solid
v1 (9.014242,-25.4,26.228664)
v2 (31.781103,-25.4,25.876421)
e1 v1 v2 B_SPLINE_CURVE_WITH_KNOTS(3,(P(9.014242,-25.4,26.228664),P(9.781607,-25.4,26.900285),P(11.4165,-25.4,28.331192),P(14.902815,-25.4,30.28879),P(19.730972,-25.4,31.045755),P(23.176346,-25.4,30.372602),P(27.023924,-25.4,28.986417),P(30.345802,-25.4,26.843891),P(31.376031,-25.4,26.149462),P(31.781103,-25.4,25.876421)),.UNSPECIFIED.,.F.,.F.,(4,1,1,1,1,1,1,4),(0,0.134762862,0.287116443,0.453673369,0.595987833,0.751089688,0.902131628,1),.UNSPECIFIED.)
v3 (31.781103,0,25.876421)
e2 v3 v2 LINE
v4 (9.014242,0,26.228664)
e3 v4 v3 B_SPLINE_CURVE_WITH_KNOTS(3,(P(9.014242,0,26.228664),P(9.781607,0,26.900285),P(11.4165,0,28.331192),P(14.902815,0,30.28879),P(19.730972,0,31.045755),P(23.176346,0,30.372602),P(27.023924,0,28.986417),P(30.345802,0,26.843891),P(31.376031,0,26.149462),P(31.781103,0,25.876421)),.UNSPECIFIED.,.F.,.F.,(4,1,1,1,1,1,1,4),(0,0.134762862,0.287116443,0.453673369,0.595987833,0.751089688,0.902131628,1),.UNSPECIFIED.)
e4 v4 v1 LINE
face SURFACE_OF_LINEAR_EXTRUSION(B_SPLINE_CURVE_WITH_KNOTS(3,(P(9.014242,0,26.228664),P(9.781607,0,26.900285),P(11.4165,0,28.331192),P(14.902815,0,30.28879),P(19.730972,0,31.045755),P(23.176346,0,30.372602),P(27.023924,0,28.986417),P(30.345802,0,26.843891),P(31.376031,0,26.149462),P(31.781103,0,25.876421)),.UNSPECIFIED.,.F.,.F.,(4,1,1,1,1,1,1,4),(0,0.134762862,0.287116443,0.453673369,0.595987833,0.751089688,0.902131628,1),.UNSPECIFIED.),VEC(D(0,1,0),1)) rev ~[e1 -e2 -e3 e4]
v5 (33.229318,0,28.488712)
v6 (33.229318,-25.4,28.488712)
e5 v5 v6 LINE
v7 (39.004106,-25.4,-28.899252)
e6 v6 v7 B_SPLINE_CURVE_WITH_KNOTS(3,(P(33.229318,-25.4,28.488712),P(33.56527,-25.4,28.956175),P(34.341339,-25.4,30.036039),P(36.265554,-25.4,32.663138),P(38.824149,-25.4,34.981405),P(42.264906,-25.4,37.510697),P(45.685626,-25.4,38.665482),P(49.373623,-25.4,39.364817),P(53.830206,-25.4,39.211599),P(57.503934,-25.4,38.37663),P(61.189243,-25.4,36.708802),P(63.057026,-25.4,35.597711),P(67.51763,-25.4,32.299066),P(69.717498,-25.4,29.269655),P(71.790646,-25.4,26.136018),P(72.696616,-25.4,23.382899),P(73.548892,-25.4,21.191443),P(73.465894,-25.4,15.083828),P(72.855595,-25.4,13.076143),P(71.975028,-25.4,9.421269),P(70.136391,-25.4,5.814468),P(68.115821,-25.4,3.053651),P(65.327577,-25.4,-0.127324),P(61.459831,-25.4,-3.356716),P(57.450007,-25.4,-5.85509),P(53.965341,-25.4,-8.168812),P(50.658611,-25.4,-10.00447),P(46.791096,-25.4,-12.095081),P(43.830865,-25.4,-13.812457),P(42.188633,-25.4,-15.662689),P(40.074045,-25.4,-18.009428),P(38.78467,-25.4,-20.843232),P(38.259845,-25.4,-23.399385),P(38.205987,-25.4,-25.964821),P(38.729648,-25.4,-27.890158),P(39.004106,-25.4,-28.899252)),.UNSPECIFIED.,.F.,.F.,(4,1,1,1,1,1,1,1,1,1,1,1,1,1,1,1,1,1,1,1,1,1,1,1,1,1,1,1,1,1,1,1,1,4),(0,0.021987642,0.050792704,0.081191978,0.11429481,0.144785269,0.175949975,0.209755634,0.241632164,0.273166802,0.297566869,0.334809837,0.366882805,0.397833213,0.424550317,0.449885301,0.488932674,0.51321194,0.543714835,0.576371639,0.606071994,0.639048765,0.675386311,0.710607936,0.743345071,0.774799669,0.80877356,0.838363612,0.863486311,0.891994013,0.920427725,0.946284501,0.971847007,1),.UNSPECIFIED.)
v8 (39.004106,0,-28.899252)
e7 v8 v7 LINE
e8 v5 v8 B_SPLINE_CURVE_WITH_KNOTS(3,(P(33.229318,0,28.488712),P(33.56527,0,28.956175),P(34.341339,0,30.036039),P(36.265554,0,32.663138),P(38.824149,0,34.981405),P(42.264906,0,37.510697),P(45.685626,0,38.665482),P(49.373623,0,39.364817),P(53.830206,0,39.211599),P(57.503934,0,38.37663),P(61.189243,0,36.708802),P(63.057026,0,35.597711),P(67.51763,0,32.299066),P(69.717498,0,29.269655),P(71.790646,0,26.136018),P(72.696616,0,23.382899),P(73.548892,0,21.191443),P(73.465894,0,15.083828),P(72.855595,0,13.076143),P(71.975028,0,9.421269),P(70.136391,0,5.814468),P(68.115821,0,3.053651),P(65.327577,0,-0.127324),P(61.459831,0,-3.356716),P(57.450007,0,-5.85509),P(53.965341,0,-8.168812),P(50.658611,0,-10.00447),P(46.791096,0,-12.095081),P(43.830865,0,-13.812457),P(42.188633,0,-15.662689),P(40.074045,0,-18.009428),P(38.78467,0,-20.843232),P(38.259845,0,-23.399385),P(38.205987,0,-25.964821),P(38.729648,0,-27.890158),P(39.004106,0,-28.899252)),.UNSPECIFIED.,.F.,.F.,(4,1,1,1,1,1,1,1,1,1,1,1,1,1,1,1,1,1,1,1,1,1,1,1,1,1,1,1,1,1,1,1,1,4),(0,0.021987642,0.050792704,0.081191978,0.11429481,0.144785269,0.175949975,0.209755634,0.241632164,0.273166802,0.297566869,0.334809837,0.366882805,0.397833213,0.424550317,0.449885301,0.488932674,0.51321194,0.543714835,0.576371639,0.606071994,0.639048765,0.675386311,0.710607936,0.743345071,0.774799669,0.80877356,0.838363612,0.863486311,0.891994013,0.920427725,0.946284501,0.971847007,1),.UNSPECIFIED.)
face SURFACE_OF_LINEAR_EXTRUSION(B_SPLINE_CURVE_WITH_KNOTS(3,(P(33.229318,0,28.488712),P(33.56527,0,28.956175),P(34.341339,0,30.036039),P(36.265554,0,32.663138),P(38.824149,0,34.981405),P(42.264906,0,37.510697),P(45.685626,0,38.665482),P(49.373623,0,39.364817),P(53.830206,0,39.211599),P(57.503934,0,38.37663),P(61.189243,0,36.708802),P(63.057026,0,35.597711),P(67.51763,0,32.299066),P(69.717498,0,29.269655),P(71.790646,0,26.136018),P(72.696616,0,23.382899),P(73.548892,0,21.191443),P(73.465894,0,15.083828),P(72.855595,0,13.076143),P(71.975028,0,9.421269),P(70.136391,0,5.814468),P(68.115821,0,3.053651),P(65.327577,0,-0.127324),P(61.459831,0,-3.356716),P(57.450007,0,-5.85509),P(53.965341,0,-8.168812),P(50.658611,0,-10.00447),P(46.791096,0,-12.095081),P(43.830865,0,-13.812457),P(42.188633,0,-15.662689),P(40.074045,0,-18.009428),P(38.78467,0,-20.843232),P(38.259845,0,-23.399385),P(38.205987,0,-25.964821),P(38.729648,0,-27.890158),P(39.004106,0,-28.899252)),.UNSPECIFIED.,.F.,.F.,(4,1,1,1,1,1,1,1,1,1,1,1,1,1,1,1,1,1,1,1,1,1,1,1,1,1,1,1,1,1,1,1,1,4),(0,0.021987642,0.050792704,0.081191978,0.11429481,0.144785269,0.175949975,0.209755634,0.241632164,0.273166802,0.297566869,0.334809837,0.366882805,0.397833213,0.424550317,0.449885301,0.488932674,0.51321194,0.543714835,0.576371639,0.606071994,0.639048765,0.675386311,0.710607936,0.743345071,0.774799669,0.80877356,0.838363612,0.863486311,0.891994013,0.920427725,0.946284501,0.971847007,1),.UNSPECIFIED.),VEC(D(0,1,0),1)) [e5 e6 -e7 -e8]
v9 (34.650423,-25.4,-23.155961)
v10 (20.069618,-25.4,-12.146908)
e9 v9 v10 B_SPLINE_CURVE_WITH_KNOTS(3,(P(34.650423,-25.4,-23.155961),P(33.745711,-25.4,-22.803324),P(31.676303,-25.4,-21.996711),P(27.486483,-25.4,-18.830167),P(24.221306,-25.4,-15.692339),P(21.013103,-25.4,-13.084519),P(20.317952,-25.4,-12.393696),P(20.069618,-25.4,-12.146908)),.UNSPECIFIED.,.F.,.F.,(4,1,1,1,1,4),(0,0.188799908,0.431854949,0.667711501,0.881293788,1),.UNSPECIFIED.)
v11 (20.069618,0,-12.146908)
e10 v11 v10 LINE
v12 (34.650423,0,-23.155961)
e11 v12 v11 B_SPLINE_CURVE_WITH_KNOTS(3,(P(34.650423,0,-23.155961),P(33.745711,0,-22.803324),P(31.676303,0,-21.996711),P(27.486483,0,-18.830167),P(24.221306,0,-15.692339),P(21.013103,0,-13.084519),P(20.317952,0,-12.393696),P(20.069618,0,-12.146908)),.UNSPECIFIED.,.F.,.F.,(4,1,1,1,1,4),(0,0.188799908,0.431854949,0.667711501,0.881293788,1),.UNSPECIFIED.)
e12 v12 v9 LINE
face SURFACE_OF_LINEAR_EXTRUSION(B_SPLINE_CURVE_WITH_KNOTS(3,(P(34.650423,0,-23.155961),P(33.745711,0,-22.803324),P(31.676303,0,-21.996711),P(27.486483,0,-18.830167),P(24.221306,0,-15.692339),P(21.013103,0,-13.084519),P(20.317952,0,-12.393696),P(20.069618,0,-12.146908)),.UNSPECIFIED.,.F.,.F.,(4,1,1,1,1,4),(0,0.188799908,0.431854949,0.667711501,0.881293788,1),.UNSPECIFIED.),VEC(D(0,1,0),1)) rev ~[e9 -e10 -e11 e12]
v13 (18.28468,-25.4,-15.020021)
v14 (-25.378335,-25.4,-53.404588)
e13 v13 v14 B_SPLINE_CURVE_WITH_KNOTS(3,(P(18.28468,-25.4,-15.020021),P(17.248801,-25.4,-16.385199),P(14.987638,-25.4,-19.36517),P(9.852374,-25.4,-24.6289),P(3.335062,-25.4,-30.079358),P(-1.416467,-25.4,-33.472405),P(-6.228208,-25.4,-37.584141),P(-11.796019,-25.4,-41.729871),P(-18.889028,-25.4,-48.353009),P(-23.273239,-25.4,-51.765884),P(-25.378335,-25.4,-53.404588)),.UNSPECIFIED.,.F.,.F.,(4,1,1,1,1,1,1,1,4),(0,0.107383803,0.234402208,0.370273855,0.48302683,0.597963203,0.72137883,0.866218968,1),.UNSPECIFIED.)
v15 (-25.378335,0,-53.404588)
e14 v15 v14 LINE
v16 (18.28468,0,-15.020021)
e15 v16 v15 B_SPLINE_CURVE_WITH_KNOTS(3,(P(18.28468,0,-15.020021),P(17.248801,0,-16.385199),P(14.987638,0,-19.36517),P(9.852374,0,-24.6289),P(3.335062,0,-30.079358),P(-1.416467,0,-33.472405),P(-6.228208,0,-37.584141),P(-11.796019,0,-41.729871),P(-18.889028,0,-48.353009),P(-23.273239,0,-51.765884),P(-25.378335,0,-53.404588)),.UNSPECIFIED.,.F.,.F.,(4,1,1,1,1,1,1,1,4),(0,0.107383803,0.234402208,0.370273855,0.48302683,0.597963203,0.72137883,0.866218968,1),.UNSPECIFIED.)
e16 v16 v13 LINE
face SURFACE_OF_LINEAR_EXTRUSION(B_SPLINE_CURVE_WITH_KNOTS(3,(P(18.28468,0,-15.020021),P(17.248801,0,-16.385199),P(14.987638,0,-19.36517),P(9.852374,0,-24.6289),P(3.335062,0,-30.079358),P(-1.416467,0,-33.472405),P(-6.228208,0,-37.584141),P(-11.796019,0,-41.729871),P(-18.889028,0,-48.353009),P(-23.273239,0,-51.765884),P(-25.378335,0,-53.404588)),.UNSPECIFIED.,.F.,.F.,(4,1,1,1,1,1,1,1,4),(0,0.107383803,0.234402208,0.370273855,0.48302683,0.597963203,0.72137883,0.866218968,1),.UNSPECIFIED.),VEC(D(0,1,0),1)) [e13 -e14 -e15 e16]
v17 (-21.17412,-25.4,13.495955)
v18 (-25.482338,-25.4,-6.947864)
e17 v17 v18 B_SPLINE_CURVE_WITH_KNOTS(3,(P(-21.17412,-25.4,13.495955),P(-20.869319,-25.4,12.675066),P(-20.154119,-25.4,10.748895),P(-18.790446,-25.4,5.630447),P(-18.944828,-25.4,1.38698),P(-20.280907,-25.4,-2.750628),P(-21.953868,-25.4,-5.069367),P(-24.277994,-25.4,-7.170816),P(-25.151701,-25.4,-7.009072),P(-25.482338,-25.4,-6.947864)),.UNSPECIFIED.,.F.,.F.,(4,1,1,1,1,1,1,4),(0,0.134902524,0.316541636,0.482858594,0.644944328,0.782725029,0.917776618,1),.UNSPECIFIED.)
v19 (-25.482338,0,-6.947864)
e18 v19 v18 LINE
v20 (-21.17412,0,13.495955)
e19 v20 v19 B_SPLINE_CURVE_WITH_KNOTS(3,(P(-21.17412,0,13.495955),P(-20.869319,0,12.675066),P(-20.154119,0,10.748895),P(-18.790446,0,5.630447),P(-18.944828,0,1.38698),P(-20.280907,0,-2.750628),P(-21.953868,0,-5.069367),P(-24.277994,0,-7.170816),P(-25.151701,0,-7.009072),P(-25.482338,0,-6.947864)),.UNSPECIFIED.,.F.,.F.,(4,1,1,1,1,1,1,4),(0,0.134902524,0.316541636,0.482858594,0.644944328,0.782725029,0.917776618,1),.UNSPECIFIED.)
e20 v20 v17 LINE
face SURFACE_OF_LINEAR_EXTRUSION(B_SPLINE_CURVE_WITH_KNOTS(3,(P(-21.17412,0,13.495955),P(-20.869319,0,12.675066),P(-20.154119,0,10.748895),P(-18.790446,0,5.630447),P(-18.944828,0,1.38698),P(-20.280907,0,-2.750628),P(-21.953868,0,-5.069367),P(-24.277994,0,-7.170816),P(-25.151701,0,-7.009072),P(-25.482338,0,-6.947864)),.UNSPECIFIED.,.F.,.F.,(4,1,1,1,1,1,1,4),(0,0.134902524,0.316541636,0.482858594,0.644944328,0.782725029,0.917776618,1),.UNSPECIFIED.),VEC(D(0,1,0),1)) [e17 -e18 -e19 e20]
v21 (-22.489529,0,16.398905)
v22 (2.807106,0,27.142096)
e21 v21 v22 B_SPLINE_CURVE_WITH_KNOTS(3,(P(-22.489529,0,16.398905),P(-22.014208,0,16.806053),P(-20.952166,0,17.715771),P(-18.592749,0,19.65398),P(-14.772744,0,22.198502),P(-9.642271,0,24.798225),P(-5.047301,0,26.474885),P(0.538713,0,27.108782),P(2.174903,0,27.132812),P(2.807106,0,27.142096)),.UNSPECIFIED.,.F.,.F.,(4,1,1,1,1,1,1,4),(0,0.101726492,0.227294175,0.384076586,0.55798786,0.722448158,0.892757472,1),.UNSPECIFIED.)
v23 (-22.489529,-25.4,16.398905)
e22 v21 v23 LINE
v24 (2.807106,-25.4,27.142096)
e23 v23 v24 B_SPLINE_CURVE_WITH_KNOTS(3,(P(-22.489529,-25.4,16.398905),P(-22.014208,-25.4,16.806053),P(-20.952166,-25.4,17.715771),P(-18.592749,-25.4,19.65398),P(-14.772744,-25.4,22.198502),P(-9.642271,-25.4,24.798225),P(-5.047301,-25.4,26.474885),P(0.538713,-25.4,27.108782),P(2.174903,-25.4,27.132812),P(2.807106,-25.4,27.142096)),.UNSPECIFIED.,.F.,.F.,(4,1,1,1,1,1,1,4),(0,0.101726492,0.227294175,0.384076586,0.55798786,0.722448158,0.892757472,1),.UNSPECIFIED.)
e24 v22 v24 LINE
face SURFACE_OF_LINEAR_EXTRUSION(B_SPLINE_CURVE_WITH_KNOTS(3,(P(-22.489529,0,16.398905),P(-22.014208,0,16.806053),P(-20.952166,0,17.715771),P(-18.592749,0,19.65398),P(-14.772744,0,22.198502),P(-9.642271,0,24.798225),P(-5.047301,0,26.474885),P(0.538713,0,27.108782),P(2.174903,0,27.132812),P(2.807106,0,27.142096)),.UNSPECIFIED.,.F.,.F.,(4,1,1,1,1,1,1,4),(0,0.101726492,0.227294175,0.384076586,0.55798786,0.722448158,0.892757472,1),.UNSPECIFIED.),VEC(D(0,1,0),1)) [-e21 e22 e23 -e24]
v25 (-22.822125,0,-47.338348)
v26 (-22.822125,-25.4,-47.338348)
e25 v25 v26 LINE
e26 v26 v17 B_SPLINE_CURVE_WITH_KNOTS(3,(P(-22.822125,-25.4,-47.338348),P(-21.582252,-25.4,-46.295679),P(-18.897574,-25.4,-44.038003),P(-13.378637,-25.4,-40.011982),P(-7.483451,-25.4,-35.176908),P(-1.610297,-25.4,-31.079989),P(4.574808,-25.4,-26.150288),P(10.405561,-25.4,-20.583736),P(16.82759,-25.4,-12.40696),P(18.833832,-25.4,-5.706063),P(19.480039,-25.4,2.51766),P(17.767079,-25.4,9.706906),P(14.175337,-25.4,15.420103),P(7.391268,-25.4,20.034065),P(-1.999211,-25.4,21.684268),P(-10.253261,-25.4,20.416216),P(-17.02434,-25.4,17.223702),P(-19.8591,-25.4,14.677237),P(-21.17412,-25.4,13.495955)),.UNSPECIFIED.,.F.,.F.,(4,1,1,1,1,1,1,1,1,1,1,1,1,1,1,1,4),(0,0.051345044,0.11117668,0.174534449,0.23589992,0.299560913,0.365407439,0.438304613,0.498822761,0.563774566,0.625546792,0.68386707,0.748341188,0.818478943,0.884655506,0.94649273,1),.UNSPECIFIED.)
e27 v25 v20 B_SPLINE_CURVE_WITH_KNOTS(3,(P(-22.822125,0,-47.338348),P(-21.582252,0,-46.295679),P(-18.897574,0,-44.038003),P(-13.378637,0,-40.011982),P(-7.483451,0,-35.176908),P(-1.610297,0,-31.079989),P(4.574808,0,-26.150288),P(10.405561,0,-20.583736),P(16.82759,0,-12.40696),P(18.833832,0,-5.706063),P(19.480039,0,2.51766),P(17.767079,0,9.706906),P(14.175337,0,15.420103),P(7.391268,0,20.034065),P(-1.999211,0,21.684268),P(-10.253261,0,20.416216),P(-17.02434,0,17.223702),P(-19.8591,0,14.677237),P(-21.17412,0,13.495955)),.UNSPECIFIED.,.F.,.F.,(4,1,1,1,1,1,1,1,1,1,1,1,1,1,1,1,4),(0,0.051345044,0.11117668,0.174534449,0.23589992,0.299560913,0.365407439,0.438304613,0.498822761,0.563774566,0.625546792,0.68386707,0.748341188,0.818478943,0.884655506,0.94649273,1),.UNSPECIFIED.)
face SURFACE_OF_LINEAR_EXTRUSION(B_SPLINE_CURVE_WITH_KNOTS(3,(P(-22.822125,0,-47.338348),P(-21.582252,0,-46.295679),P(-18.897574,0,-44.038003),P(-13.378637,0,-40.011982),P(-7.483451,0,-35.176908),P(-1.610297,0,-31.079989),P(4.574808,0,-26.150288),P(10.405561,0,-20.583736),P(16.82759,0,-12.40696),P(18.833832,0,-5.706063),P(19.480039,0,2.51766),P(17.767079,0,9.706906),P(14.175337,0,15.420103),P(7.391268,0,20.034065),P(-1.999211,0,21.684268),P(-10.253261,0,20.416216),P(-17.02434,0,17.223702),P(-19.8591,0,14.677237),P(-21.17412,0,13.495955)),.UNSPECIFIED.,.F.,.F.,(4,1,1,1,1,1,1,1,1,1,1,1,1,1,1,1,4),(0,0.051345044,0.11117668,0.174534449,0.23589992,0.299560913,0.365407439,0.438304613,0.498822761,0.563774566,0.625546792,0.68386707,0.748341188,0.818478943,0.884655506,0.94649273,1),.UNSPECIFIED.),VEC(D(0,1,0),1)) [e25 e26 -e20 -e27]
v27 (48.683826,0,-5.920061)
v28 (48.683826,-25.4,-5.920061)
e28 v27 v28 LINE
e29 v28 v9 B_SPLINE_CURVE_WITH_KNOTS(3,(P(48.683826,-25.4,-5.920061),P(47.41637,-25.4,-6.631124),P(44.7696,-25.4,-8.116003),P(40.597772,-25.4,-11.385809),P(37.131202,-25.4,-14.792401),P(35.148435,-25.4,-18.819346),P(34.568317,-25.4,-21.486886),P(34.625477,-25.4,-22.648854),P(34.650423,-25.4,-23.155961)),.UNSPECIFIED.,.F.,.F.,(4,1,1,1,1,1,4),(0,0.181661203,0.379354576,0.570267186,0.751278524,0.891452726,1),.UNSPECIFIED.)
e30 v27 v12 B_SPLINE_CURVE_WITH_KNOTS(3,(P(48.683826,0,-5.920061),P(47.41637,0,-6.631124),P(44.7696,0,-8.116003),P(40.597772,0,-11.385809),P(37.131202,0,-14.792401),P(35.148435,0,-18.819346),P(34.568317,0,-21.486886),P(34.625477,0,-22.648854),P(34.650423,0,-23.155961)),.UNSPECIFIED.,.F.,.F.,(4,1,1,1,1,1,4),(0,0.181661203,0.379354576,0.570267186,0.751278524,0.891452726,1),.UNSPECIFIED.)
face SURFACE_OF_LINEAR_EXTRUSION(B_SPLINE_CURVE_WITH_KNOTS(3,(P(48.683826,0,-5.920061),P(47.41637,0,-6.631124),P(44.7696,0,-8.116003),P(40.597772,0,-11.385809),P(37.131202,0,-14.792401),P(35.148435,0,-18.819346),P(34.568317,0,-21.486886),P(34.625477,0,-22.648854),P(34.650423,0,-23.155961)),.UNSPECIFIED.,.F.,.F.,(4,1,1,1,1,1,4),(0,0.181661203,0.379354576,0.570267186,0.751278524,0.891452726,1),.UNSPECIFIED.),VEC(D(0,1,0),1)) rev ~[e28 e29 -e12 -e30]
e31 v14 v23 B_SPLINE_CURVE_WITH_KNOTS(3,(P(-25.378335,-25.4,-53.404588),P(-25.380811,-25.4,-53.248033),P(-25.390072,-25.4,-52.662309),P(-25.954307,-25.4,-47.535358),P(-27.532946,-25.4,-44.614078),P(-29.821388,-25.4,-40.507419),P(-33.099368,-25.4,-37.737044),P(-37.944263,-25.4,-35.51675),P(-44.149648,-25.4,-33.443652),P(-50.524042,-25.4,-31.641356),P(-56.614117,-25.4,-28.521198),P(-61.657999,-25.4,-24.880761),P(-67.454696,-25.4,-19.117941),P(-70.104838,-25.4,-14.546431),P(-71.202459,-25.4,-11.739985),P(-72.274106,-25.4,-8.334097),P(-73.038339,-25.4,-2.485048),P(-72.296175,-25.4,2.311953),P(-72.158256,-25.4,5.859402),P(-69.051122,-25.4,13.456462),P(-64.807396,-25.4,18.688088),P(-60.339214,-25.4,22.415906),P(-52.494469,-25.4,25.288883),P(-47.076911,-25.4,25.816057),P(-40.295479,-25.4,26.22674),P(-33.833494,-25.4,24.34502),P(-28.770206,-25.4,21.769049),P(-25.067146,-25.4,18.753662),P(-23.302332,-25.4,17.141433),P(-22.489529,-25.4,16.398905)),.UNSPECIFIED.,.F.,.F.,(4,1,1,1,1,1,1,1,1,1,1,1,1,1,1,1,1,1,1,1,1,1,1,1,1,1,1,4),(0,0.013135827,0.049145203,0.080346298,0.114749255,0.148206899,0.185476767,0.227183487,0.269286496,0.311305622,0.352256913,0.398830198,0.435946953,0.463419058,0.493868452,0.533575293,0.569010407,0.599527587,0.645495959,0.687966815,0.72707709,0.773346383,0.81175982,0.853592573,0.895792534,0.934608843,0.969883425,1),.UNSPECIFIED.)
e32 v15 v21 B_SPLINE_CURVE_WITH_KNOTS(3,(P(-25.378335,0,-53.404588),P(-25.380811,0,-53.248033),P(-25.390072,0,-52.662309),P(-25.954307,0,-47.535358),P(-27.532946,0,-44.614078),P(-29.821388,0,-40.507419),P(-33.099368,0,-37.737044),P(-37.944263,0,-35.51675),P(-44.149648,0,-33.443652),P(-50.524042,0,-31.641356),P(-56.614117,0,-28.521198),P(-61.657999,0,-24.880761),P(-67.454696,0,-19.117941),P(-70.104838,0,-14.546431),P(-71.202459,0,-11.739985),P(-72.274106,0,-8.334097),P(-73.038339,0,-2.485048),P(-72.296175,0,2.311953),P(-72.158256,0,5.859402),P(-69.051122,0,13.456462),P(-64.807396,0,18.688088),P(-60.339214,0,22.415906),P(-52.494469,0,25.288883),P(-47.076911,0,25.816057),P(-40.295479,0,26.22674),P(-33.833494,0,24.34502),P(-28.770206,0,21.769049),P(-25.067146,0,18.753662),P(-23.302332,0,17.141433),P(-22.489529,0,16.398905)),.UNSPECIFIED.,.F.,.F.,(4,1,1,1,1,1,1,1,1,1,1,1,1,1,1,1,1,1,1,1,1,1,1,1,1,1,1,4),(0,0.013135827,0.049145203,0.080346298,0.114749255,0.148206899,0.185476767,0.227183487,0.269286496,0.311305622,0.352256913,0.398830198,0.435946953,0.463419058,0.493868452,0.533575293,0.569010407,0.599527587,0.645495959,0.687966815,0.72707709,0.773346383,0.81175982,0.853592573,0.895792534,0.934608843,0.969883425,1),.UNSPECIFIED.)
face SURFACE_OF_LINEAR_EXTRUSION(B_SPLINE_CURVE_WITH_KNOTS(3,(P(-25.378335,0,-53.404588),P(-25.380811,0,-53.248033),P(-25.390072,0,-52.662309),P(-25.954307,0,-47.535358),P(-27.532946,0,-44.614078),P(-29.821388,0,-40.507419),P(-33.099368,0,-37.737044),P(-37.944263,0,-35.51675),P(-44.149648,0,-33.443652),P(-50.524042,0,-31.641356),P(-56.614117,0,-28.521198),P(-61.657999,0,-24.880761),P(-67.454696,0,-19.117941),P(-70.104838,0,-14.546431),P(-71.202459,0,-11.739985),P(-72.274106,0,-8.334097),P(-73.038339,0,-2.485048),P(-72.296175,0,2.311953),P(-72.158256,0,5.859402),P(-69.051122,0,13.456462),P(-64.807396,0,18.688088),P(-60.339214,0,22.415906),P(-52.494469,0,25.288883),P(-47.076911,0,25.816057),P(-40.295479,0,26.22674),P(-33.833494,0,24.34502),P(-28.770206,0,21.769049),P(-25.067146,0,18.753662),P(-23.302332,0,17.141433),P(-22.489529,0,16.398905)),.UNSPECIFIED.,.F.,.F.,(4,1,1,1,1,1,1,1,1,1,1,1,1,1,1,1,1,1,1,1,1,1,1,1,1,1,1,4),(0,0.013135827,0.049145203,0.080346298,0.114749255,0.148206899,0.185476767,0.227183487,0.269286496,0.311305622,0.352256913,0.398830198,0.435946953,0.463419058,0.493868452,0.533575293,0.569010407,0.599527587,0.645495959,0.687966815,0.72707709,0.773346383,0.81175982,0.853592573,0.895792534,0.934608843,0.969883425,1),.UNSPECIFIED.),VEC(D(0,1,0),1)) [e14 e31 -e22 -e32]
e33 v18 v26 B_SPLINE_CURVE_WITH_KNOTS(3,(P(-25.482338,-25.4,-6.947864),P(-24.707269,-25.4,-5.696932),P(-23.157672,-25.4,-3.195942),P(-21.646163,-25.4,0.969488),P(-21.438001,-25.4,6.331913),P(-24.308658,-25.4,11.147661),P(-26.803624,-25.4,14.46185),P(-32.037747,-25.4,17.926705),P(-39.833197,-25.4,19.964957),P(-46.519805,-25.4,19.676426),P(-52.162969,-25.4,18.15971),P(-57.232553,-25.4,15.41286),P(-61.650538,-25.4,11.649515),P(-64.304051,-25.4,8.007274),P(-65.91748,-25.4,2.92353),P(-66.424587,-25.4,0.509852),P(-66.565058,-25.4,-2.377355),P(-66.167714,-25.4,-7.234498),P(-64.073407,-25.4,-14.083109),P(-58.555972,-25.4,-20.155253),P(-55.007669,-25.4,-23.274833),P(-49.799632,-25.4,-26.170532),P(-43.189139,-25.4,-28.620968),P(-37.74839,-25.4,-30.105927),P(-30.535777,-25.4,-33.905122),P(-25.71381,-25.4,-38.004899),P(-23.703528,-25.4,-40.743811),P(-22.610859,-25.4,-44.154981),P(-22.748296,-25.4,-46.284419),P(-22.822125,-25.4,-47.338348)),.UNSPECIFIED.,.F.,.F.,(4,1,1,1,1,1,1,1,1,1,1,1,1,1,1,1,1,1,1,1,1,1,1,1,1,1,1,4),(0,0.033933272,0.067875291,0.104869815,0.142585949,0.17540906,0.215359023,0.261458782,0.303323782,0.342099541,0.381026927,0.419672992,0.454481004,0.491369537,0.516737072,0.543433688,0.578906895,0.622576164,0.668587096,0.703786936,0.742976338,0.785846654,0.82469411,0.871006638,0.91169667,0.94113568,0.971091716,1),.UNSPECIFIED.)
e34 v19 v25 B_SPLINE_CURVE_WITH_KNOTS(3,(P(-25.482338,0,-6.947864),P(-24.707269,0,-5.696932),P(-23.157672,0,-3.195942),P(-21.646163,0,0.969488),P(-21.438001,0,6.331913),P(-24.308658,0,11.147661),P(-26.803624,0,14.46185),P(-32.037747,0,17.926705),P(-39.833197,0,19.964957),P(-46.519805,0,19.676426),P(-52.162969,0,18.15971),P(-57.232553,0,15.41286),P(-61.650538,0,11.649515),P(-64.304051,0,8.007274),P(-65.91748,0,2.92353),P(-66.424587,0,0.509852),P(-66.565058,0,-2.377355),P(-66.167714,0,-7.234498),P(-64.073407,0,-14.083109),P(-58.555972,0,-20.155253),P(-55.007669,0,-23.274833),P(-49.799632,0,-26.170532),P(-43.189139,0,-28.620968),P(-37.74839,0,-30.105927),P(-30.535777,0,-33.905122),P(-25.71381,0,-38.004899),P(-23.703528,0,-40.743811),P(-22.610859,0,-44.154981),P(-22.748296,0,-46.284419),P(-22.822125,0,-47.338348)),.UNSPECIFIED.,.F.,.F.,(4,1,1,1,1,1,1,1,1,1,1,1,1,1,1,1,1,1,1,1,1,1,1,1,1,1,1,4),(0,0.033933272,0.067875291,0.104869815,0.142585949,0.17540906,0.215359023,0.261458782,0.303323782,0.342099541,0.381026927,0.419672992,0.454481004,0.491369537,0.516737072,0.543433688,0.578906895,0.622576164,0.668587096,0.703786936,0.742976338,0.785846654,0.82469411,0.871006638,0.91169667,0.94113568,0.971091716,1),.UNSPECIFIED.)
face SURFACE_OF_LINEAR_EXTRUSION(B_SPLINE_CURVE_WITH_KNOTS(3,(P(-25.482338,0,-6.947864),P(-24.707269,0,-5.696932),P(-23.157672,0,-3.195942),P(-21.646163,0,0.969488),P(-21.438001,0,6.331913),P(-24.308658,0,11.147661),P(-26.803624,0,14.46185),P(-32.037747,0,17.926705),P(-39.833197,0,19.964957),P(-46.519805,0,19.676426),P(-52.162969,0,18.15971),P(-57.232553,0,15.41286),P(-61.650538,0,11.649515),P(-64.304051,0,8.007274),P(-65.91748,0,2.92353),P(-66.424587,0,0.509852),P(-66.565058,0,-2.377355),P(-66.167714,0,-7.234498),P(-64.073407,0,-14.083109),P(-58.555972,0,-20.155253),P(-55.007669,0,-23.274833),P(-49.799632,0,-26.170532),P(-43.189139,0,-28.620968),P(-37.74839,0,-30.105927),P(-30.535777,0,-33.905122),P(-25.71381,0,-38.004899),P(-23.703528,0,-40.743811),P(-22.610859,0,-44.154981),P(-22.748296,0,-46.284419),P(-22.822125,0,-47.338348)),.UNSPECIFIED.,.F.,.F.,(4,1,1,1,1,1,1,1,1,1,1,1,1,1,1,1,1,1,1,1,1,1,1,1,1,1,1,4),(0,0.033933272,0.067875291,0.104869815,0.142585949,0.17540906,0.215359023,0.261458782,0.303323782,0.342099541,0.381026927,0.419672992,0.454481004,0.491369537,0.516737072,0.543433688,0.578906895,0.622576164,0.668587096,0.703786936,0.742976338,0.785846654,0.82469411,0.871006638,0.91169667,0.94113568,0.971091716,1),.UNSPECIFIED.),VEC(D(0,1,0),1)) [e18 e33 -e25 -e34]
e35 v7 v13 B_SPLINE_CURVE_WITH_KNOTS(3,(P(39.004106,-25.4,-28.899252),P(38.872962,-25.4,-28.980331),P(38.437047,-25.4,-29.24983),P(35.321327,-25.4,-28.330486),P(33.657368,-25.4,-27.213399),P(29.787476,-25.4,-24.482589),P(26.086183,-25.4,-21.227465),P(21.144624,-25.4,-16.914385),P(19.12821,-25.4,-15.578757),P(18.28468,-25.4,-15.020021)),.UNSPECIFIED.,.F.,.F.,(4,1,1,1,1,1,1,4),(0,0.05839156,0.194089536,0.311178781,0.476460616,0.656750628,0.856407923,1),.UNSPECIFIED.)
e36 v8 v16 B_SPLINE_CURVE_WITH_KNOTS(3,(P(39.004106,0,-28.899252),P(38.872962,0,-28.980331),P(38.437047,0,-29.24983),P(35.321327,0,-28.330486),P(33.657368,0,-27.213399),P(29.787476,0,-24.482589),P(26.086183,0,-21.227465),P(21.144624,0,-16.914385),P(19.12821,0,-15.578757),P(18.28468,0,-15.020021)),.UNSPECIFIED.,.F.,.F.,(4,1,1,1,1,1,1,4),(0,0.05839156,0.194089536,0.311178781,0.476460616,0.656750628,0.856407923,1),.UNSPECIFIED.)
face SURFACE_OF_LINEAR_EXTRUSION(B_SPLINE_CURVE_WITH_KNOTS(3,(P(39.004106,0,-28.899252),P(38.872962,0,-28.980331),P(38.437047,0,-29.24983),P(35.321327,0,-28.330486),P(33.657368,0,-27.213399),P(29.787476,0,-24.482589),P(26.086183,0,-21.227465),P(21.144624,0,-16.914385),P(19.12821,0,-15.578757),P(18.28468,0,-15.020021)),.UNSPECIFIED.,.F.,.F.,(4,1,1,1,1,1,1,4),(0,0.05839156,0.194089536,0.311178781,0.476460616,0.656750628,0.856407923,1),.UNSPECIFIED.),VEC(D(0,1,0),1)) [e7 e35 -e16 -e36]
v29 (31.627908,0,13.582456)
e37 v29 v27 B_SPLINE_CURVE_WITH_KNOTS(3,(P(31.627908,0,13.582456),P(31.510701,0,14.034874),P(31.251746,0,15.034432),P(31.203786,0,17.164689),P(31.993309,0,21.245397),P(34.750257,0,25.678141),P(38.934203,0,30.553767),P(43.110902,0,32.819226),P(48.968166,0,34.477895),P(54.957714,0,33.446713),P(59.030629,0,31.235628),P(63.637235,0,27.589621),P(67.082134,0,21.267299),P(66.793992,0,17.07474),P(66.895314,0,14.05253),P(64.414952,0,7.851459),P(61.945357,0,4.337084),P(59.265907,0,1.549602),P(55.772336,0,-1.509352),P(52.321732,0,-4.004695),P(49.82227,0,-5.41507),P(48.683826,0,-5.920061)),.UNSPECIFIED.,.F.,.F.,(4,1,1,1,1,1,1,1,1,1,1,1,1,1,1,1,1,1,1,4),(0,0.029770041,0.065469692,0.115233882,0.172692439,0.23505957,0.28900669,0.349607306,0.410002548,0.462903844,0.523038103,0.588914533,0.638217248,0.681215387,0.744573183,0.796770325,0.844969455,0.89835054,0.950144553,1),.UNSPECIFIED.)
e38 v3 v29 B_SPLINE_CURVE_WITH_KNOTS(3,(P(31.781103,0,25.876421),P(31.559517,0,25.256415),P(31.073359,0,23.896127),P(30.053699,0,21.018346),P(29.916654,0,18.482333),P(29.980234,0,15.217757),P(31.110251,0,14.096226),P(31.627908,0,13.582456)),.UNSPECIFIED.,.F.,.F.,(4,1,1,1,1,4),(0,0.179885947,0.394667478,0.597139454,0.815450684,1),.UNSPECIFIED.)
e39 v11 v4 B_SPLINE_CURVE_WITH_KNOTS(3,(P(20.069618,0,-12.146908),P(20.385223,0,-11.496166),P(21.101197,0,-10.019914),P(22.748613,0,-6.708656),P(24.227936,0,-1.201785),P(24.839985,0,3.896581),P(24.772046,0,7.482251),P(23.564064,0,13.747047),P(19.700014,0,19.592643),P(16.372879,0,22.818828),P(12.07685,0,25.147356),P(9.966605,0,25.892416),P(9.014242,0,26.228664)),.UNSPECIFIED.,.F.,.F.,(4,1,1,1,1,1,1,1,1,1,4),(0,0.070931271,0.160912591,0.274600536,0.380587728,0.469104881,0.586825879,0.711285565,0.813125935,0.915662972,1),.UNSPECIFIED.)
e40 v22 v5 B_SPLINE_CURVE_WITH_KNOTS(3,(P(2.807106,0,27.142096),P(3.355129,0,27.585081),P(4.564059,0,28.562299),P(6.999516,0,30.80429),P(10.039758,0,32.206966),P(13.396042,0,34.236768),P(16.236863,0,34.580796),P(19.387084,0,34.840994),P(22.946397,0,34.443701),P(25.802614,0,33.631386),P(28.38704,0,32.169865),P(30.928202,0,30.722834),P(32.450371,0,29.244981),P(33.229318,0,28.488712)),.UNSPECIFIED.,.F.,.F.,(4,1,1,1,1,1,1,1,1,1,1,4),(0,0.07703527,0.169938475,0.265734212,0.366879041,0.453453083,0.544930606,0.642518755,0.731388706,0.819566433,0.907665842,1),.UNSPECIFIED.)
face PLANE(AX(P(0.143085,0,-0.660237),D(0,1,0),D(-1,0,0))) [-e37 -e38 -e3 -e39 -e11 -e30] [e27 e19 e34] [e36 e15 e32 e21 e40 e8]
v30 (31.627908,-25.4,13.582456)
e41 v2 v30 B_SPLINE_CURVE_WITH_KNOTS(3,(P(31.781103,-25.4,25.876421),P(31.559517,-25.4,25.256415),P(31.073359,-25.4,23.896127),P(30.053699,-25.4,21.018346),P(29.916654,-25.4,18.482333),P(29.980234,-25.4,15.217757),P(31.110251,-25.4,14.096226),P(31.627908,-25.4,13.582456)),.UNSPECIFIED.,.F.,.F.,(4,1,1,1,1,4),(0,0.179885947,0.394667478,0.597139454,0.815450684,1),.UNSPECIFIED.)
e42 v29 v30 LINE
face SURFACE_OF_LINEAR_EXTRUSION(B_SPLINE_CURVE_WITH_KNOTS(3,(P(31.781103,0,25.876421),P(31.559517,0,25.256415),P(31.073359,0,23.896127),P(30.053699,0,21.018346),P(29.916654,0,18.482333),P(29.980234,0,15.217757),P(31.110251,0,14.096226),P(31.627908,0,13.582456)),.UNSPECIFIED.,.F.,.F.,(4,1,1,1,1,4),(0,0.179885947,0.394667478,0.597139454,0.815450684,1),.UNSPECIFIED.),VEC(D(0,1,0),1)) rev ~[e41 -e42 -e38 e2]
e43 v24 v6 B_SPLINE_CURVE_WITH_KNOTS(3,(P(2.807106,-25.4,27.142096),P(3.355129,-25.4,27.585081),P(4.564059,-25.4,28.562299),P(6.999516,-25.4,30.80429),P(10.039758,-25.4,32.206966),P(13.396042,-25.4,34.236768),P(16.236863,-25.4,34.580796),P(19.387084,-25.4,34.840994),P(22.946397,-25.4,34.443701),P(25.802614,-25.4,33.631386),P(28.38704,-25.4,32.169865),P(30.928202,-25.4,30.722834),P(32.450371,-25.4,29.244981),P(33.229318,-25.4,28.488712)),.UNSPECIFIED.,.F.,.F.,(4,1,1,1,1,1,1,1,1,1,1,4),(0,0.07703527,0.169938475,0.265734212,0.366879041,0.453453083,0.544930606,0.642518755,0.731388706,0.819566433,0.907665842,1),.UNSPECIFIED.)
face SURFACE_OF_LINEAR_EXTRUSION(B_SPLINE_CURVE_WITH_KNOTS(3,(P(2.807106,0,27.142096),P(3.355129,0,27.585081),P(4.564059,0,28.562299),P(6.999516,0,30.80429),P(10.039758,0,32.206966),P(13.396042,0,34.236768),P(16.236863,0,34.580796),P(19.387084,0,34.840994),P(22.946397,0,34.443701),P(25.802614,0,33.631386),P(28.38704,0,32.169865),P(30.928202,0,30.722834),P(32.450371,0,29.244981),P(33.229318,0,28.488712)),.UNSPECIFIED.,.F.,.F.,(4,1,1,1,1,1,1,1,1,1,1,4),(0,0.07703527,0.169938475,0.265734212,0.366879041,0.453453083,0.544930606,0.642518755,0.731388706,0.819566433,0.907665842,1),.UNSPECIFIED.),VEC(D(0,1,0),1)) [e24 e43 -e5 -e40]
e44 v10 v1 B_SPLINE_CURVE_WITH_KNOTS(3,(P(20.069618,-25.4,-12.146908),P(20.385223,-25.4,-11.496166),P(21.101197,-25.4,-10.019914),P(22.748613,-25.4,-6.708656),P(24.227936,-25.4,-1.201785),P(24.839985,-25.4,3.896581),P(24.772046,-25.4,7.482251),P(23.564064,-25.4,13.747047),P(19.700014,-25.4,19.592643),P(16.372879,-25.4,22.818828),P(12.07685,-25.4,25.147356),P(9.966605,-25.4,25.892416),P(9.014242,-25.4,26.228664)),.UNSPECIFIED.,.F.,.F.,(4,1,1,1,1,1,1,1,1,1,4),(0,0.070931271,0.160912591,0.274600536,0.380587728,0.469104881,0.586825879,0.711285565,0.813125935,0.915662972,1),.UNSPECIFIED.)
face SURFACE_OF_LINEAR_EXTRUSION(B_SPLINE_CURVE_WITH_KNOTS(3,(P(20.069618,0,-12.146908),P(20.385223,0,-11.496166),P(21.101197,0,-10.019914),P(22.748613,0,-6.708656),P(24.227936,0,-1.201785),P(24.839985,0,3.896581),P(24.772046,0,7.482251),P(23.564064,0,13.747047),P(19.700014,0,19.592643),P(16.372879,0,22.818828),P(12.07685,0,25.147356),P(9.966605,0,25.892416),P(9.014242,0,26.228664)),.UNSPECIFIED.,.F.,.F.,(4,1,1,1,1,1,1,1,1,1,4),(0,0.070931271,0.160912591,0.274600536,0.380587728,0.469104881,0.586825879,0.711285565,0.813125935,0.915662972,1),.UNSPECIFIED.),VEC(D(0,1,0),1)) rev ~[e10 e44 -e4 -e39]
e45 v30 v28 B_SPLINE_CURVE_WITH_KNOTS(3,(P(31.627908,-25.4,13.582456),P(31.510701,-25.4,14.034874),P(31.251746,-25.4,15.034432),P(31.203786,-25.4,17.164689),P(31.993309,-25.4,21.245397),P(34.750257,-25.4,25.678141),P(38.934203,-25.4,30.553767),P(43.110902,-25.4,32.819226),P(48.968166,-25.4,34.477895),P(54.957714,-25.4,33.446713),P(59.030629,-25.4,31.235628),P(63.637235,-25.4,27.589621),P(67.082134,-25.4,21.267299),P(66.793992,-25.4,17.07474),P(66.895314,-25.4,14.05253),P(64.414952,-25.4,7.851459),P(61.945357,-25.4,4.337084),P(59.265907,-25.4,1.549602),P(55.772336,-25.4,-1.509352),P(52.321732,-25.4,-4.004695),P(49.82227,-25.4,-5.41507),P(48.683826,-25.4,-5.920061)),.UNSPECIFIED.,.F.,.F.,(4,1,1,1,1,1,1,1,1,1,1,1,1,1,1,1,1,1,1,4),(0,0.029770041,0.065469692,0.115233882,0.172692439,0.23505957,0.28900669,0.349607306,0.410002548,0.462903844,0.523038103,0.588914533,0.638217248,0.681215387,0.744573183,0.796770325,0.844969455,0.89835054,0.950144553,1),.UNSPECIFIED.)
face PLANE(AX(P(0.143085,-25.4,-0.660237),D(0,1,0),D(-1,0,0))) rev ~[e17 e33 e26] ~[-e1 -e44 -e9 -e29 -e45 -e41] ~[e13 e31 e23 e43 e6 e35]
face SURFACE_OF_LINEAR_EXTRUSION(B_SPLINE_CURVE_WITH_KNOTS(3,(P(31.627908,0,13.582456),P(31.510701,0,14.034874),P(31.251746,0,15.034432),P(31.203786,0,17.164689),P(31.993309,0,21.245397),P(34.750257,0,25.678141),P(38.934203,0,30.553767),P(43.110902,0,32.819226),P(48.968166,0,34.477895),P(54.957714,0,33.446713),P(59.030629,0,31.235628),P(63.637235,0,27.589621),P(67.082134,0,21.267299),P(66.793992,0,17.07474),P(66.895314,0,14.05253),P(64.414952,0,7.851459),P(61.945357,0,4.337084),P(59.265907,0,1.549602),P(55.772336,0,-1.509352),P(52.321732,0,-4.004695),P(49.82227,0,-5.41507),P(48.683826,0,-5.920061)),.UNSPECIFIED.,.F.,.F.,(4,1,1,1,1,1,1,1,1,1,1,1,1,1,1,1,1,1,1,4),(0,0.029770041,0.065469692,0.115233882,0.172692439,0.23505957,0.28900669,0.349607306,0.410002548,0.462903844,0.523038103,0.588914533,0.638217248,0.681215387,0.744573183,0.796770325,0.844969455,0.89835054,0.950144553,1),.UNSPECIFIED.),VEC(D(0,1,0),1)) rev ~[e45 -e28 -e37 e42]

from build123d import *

# Parameters (mm, degrees)
F1_DEPTH = 25.4


with BuildPart() as f1:
    # F0 (on Front) → F1 (new body)
    with BuildSketch(Plane.XZ):
        with BuildLine():
            add(Edge.make_bspline(
                [(-22.489529103, 16.3989048451), (-22.0142075776, 16.8060529981), (-20.9521655065, 17.7157708301), (-18.592749368, 19.6539799274), (-14.772744136, 22.198501643), (-9.6422708816, 24.7982253854), (-5.0473006646, 26.4748851839), (0.5387129096, 27.1087820233), (2.1749027801, 27.1328115897), (2.8071058914, 27.1420963109)],
                knots=[0, 0, 0, 0, 0.1017264919, 0.2272941752, 0.3840765855, 0.5579878597, 0.7224481579, 0.8927574719, 1, 1, 1, 1], degree=3))
            add(Edge.make_bspline(
                [(-25.3783352673, -53.4045882523), (-25.380810705, -53.2480326303), (-25.3900720852, -52.6623094816), (-25.9543071106, -47.5353584613), (-27.5329464576, -44.6140779389), (-29.8213881557, -40.507419256), (-33.0993677019, -37.7370435063), (-37.9442625297, -35.5167498457), (-44.149647689, -33.4436517233), (-50.5240418616, -31.6413562893), (-56.6141165823, -28.5211982215), (-61.6579988208, -24.8807606802), (-67.4546960547, -19.117941277), (-70.1048380578, -14.5464311113), (-71.2024590483, -11.7399850464), (-72.2741058098, -8.3340974475), (-73.0383386057, -2.4850478066), (-72.2961752506, 2.3119528559), (-72.1582555502, 5.8594022765), (-69.0511223183, 13.4564623225), (-64.807396324, 18.6880875725), (-60.3392144955, 22.4159058568), (-52.4944694734, 25.2888831952), (-47.0769112921, 25.8160573746), (-40.2954789709, 26.2267395115), (-33.833493715, 24.3450200389), (-28.7702060765, 21.7690490948), (-25.067145744, 18.7536621902), (-23.3023322512, 17.1414334868), (-22.489529103, 16.3989048451)],
                knots=[0, 0, 0, 0, 0.0131358269, 0.0491452035, 0.0803462978, 0.1147492547, 0.1482068994, 0.1854767669, 0.2271834867, 0.2692864962, 0.3113056222, 0.3522569132, 0.3988301977, 0.4359469531, 0.4634190576, 0.4938684524, 0.5335752927, 0.5690104067, 0.5995275867, 0.6454959589, 0.6879668152, 0.7270770898, 0.7733463831, 0.8117598199, 0.8535925726, 0.8957925339, 0.9346088434, 0.969883425, 1, 1, 1, 1], degree=3))
            add(Edge.make_bspline(
                [(18.2846803218, -15.0200212374), (17.2488014993, -16.3851988473), (14.9876384889, -19.3651701015), (9.8523743638, -24.628899687), (3.3350620135, -30.0793577788), (-1.4164666367, -33.472404808), (-6.2282079426, -37.5841411525), (-11.7960187043, -41.7298710073), (-18.8890278718, -48.3530093587), (-23.2732392277, -51.7658835224), (-25.3783352673, -53.4045882523)],
                knots=[0, 0, 0, 0, 0.107383803, 0.234402208, 0.3702738552, 0.4830268297, 0.5979632031, 0.7213788304, 0.8662189678, 1, 1, 1, 1], degree=3))
            add(Edge.make_bspline(
                [(39.0041060746, -28.8992524147), (38.8729618126, -28.9803309307), (38.4370472908, -29.2498303508), (35.3213271287, -28.3304855542), (33.6573681709, -27.213399163), (29.7874759534, -24.4825893522), (26.0861828074, -21.2274648356), (21.1446237918, -16.9143854411), (19.1282100255, -15.578756923), (18.2846803218, -15.0200212374)],
                knots=[0, 0, 0, 0, 0.0583915601, 0.1940895363, 0.3111787807, 0.4764606156, 0.6567506281, 0.8564079229, 1, 1, 1, 1], degree=3))
            add(Edge.make_bspline(
                [(33.2293175161, 28.4887123853), (33.5652698457, 28.956174708), (34.3413388216, 30.0360392423), (36.2655541727, 32.66313762), (38.8241490007, 34.9814046609), (42.264905797, 37.5106969682), (45.6856256834, 38.6654818677), (49.3736228408, 39.3648169167), (53.8302058527, 39.2115990037), (57.5039342502, 38.3766303984), (61.1892434393, 36.7088023435), (63.0570257756, 35.5977111085), (67.5176295642, 32.2990656856), (69.717497614, 29.2696548278), (71.7906455541, 26.1360180586), (72.6966159606, 23.3828994613), (73.5488922898, 21.1914433428), (73.4658935031, 15.0838276145), (72.8555949781, 13.0761426998), (71.9750283188, 9.4212688868), (70.1363906803, 5.8144681409), (68.1158208129, 3.0536512384), (65.327576658, -0.1273239878), (61.4598313529, -3.3567160343), (57.4500069001, -5.8550900101), (53.9653409377, -8.1688120667), (50.6586113493, -10.0044702793), (46.7910955969, -12.0950805458), (43.8308651947, -13.812457351), (42.1886331326, -15.6626893825), (40.0740449268, -18.0094280505), (38.78467028, -20.843232244), (38.2598449003, -23.3993848247), (38.2059874499, -25.964820687), (38.7296484973, -27.8901580297), (39.0041060746, -28.8992524147)],
                knots=[0, 0, 0, 0, 0.0219876424, 0.0507927038, 0.0811919785, 0.1142948103, 0.1447852686, 0.1759499748, 0.2097556335, 0.2416321644, 0.2731668021, 0.297566869, 0.3348098368, 0.3668828053, 0.3978332131, 0.4245503171, 0.4498853012, 0.488932674, 0.51321194, 0.5437148347, 0.576371639, 0.6060719943, 0.6390487649, 0.6753863109, 0.7106079357, 0.7433450706, 0.7747996688, 0.8087735596, 0.8383636115, 0.8634863111, 0.8919940128, 0.920427725, 0.9462845015, 0.9718470074, 1, 1, 1, 1], degree=3))
            add(Edge.make_bspline(
                [(2.8071058914, 27.1420963109), (3.3551292057, 27.5850813022), (4.5640591674, 28.5622985385), (6.9995159749, 30.804289668), (10.0397583163, 32.2069661755), (13.3960422353, 34.2367678554), (16.236862864, 34.5807964616), (19.3870836717, 34.8409944612), (22.9463969521, 34.4437012709), (25.8026136121, 33.6313862766), (28.3870401336, 32.1698654221), (30.9282020582, 30.7228339453), (32.450370672, 29.2449812342), (33.2293175161, 28.4887123853)],
                knots=[0, 0, 0, 0, 0.0770352702, 0.1699384748, 0.2657342116, 0.366879041, 0.4534530826, 0.544930606, 0.6425187552, 0.7313887059, 0.8195664332, 0.9076658419, 1, 1, 1, 1], degree=3))
        make_face()
        with BuildLine():
            add(Edge.make_bspline(
                [(-25.4823379219, -6.947863847), (-24.7072689742, -5.6969323506), (-23.1576715662, -3.1959416835), (-21.6461628304, 0.969488134), (-21.4380006601, 6.3319125716), (-24.3086582332, 11.1476605865), (-26.8036243823, 14.4618501748), (-32.0377472275, 17.9267050389), (-39.8331972349, 19.9649566058), (-46.5198051765, 19.6764260933), (-52.1629685941, 18.1597104693), (-57.232552556, 15.4128595751), (-61.6505378405, 11.6495146071), (-64.3040507004, 8.0072736154), (-65.9174804736, 2.9235295255), (-66.4245874173, 0.5098518949), (-66.5650579665, -2.3773550045), (-66.1677138116, -7.2344977002), (-64.0734074426, -14.0831092935), (-58.5559723013, -20.1552528216), (-55.0076685963, -23.274833037), (-49.7996324029, -26.1705320892), (-43.1891386801, -28.6209683132), (-37.7483904206, -30.1059271143), (-30.5357765284, -33.9051219234), (-25.7138102354, -38.0048986809), (-23.703528013, -40.7438113903), (-22.6108591004, -44.1549814179), (-22.7482957421, -46.2844193761), (-22.8221248835, -47.338347882)],
                knots=[0, 0, 0, 0, 0.0339332719, 0.0678752908, 0.1048698149, 0.1425859486, 0.1754090603, 0.2153590231, 0.2614587816, 0.3033237816, 0.3420995415, 0.3810269269, 0.4196729922, 0.4544810043, 0.4913695369, 0.5167370715, 0.5434336876, 0.5789068953, 0.6225761644, 0.6685870959, 0.7037869359, 0.742976338, 0.7858466539, 0.8246941104, 0.8710066382, 0.9116966704, 0.9411356801, 0.971091716, 1, 1, 1, 1], degree=3))
            add(Edge.make_bspline(
                [(-21.1741197854, 13.4959546849), (-20.8693187076, 12.6750661136), (-20.1541191021, 10.7488945052), (-18.7904460983, 5.63044739), (-18.9448277642, 1.3869803726), (-20.2809073845, -2.7506283952), (-21.953867731, -5.0693670884), (-24.2779941824, -7.1708159647), (-25.1517009956, -7.0090724542), (-25.4823379219, -6.947863847)],
                knots=[0, 0, 0, 0, 0.1349025238, 0.316541636, 0.4828585942, 0.6449443281, 0.7827250287, 0.9177766184, 1, 1, 1, 1], degree=3))
            add(Edge.make_bspline(
                [(-22.8221248835, -47.338347882), (-21.5822522753, -46.2956789062), (-18.8975740556, -44.0380028587), (-13.3786367389, -40.0119818677), (-7.4834514664, -35.1769076177), (-1.6102965896, -31.079988561), (4.574808039, -26.1502881033), (10.4055609049, -20.5837357105), (16.8275898816, -12.4069603536), (18.8338319817, -5.7060626577), (19.4800393704, 2.5176596885), (17.7670788338, 9.706905547), (14.1753368282, 15.4201033221), (7.3912683696, 20.0340646079), (-1.999211492, 21.6842681841), (-10.2532609996, 20.4162162346), (-17.0243398527, 17.223701668), (-19.8591000892, 14.6772367733), (-21.1741197854, 13.4959546849)],
                knots=[0, 0, 0, 0, 0.0513450438, 0.1111766804, 0.1745344492, 0.2358999201, 0.299560913, 0.3654074387, 0.4383046132, 0.4988227614, 0.5637745658, 0.6255467923, 0.68386707, 0.7483411877, 0.8184789434, 0.884655506, 0.94649273, 1, 1, 1, 1], degree=3))
        make_face(mode=Mode.SUBTRACT)
        with BuildLine():
            add(Edge.make_bspline(
                [(20.0696177781, -12.1469078586), (20.3852234686, -11.4961664462), (21.1011972394, -10.0199136512), (22.7486134217, -6.7086559014), (24.2279359077, -1.2017851215), (24.8399851295, 3.8965813923), (24.772046385, 7.4822513083), (23.5640639852, 13.7470469708), (19.7000144185, 19.5926431954), (16.3728794452, 22.8188276331), (12.0768502523, 25.147355713), (9.9666047358, 25.8924157912), (9.0142423287, 26.2286644429)],
                knots=[0, 0, 0, 0, 0.0709312706, 0.1609125907, 0.2746005356, 0.3805877285, 0.4691048808, 0.5868258793, 0.7112855652, 0.8131259346, 0.9156629722, 1, 1, 1, 1], degree=3))
            add(Edge.make_bspline(
                [(9.0142423287, 26.2286644429), (9.781606502, 26.9002846676), (11.4164995967, 28.3311923198), (14.9028149678, 30.2887902453), (19.7309715736, 31.0457554686), (23.176346388, 30.372601545), (27.0239241689, 28.986416891), (30.3458023302, 26.8438905907), (31.376030742, 26.1494619848), (31.781103462, 25.8764214814)],
                knots=[0, 0, 0, 0, 0.1347628617, 0.2871164431, 0.4536733694, 0.5959878328, 0.751089688, 0.9021316283, 1, 1, 1, 1], degree=3))
            add(Edge.make_bspline(
                [(31.781103462, 25.8764214814), (31.5595170065, 25.256414604), (31.0733591452, 23.8961274108), (30.0536992964, 21.0183458375), (29.9166539985, 18.4823334355), (29.9802337248, 15.2177571653), (31.1102506713, 14.096226199), (31.627908349, 13.5824559256)],
                knots=[0, 0, 0, 0, 0.1798859474, 0.3946674778, 0.5971394536, 0.8154506837, 1, 1, 1, 1], degree=3))
            add(Edge.make_bspline(
                [(31.627908349, 13.5824559256), (31.5107009295, 14.034873765), (31.2517464304, 15.0344319444), (31.2037858605, 17.1646885735), (31.9933090897, 21.2453966152), (34.750257277, 25.6781414092), (38.9342029872, 30.5537667425), (43.1109017521, 32.8192261417), (48.9681655014, 34.4778949567), (54.9577135812, 33.4467128295), (59.0306286434, 31.2356283812), (63.6372346152, 27.5896212214), (67.0821336842, 21.2672992494), (66.793991644, 17.0747396851), (66.8953139195, 14.0525303173), (64.4149515485, 7.8514587989), (61.9453566492, 4.337083878), (59.2659073359, 1.5496015218), (55.772336197, -1.5093516006), (52.3217323286, -4.0046951668), (49.8222697336, -5.4150703128), (48.6838258803, -5.9200613759)],
                knots=[0, 0, 0, 0, 0.0297700411, 0.0654696919, 0.1152338819, 0.1726924395, 0.2350595702, 0.2890066897, 0.3496073057, 0.4100025477, 0.4629038445, 0.5230381032, 0.5889145332, 0.6382172481, 0.6812153868, 0.7445731828, 0.796770325, 0.8449694554, 0.8983505404, 0.950144553, 1, 1, 1, 1], degree=3))
            add(Edge.make_bspline(
                [(48.6838258803, -5.9200613759), (47.4163695271, -6.6311241112), (44.7695998207, -8.116003099), (40.597772147, -11.3858085336), (37.131202478, -14.7924012965), (35.1484354419, -18.8193456373), (34.5683171848, -21.4868857036), (34.625476923, -22.6488538796), (34.6504226327, -23.1559611857)],
                knots=[0, 0, 0, 0, 0.1816612027, 0.3793545765, 0.5702671863, 0.7512785237, 0.8914527262, 1, 1, 1, 1], degree=3))
            add(Edge.make_bspline(
                [(34.6504226327, -23.1559611857), (33.745711288, -22.8033235929), (31.6763031183, -21.9967114953), (27.4864833103, -18.8301671156), (24.2213063516, -15.6923386797), (21.013103224, -13.0845186351), (20.3179523603, -12.3936961704), (20.0696177781, -12.1469078586)],
                knots=[0, 0, 0, 0, 0.1887999078, 0.4318549489, 0.6677115007, 0.8812937882, 1, 1, 1, 1], degree=3))
        make_face(mode=Mode.SUBTRACT)
    extrude(amount=F1_DEPTH)


solid = f1.part
